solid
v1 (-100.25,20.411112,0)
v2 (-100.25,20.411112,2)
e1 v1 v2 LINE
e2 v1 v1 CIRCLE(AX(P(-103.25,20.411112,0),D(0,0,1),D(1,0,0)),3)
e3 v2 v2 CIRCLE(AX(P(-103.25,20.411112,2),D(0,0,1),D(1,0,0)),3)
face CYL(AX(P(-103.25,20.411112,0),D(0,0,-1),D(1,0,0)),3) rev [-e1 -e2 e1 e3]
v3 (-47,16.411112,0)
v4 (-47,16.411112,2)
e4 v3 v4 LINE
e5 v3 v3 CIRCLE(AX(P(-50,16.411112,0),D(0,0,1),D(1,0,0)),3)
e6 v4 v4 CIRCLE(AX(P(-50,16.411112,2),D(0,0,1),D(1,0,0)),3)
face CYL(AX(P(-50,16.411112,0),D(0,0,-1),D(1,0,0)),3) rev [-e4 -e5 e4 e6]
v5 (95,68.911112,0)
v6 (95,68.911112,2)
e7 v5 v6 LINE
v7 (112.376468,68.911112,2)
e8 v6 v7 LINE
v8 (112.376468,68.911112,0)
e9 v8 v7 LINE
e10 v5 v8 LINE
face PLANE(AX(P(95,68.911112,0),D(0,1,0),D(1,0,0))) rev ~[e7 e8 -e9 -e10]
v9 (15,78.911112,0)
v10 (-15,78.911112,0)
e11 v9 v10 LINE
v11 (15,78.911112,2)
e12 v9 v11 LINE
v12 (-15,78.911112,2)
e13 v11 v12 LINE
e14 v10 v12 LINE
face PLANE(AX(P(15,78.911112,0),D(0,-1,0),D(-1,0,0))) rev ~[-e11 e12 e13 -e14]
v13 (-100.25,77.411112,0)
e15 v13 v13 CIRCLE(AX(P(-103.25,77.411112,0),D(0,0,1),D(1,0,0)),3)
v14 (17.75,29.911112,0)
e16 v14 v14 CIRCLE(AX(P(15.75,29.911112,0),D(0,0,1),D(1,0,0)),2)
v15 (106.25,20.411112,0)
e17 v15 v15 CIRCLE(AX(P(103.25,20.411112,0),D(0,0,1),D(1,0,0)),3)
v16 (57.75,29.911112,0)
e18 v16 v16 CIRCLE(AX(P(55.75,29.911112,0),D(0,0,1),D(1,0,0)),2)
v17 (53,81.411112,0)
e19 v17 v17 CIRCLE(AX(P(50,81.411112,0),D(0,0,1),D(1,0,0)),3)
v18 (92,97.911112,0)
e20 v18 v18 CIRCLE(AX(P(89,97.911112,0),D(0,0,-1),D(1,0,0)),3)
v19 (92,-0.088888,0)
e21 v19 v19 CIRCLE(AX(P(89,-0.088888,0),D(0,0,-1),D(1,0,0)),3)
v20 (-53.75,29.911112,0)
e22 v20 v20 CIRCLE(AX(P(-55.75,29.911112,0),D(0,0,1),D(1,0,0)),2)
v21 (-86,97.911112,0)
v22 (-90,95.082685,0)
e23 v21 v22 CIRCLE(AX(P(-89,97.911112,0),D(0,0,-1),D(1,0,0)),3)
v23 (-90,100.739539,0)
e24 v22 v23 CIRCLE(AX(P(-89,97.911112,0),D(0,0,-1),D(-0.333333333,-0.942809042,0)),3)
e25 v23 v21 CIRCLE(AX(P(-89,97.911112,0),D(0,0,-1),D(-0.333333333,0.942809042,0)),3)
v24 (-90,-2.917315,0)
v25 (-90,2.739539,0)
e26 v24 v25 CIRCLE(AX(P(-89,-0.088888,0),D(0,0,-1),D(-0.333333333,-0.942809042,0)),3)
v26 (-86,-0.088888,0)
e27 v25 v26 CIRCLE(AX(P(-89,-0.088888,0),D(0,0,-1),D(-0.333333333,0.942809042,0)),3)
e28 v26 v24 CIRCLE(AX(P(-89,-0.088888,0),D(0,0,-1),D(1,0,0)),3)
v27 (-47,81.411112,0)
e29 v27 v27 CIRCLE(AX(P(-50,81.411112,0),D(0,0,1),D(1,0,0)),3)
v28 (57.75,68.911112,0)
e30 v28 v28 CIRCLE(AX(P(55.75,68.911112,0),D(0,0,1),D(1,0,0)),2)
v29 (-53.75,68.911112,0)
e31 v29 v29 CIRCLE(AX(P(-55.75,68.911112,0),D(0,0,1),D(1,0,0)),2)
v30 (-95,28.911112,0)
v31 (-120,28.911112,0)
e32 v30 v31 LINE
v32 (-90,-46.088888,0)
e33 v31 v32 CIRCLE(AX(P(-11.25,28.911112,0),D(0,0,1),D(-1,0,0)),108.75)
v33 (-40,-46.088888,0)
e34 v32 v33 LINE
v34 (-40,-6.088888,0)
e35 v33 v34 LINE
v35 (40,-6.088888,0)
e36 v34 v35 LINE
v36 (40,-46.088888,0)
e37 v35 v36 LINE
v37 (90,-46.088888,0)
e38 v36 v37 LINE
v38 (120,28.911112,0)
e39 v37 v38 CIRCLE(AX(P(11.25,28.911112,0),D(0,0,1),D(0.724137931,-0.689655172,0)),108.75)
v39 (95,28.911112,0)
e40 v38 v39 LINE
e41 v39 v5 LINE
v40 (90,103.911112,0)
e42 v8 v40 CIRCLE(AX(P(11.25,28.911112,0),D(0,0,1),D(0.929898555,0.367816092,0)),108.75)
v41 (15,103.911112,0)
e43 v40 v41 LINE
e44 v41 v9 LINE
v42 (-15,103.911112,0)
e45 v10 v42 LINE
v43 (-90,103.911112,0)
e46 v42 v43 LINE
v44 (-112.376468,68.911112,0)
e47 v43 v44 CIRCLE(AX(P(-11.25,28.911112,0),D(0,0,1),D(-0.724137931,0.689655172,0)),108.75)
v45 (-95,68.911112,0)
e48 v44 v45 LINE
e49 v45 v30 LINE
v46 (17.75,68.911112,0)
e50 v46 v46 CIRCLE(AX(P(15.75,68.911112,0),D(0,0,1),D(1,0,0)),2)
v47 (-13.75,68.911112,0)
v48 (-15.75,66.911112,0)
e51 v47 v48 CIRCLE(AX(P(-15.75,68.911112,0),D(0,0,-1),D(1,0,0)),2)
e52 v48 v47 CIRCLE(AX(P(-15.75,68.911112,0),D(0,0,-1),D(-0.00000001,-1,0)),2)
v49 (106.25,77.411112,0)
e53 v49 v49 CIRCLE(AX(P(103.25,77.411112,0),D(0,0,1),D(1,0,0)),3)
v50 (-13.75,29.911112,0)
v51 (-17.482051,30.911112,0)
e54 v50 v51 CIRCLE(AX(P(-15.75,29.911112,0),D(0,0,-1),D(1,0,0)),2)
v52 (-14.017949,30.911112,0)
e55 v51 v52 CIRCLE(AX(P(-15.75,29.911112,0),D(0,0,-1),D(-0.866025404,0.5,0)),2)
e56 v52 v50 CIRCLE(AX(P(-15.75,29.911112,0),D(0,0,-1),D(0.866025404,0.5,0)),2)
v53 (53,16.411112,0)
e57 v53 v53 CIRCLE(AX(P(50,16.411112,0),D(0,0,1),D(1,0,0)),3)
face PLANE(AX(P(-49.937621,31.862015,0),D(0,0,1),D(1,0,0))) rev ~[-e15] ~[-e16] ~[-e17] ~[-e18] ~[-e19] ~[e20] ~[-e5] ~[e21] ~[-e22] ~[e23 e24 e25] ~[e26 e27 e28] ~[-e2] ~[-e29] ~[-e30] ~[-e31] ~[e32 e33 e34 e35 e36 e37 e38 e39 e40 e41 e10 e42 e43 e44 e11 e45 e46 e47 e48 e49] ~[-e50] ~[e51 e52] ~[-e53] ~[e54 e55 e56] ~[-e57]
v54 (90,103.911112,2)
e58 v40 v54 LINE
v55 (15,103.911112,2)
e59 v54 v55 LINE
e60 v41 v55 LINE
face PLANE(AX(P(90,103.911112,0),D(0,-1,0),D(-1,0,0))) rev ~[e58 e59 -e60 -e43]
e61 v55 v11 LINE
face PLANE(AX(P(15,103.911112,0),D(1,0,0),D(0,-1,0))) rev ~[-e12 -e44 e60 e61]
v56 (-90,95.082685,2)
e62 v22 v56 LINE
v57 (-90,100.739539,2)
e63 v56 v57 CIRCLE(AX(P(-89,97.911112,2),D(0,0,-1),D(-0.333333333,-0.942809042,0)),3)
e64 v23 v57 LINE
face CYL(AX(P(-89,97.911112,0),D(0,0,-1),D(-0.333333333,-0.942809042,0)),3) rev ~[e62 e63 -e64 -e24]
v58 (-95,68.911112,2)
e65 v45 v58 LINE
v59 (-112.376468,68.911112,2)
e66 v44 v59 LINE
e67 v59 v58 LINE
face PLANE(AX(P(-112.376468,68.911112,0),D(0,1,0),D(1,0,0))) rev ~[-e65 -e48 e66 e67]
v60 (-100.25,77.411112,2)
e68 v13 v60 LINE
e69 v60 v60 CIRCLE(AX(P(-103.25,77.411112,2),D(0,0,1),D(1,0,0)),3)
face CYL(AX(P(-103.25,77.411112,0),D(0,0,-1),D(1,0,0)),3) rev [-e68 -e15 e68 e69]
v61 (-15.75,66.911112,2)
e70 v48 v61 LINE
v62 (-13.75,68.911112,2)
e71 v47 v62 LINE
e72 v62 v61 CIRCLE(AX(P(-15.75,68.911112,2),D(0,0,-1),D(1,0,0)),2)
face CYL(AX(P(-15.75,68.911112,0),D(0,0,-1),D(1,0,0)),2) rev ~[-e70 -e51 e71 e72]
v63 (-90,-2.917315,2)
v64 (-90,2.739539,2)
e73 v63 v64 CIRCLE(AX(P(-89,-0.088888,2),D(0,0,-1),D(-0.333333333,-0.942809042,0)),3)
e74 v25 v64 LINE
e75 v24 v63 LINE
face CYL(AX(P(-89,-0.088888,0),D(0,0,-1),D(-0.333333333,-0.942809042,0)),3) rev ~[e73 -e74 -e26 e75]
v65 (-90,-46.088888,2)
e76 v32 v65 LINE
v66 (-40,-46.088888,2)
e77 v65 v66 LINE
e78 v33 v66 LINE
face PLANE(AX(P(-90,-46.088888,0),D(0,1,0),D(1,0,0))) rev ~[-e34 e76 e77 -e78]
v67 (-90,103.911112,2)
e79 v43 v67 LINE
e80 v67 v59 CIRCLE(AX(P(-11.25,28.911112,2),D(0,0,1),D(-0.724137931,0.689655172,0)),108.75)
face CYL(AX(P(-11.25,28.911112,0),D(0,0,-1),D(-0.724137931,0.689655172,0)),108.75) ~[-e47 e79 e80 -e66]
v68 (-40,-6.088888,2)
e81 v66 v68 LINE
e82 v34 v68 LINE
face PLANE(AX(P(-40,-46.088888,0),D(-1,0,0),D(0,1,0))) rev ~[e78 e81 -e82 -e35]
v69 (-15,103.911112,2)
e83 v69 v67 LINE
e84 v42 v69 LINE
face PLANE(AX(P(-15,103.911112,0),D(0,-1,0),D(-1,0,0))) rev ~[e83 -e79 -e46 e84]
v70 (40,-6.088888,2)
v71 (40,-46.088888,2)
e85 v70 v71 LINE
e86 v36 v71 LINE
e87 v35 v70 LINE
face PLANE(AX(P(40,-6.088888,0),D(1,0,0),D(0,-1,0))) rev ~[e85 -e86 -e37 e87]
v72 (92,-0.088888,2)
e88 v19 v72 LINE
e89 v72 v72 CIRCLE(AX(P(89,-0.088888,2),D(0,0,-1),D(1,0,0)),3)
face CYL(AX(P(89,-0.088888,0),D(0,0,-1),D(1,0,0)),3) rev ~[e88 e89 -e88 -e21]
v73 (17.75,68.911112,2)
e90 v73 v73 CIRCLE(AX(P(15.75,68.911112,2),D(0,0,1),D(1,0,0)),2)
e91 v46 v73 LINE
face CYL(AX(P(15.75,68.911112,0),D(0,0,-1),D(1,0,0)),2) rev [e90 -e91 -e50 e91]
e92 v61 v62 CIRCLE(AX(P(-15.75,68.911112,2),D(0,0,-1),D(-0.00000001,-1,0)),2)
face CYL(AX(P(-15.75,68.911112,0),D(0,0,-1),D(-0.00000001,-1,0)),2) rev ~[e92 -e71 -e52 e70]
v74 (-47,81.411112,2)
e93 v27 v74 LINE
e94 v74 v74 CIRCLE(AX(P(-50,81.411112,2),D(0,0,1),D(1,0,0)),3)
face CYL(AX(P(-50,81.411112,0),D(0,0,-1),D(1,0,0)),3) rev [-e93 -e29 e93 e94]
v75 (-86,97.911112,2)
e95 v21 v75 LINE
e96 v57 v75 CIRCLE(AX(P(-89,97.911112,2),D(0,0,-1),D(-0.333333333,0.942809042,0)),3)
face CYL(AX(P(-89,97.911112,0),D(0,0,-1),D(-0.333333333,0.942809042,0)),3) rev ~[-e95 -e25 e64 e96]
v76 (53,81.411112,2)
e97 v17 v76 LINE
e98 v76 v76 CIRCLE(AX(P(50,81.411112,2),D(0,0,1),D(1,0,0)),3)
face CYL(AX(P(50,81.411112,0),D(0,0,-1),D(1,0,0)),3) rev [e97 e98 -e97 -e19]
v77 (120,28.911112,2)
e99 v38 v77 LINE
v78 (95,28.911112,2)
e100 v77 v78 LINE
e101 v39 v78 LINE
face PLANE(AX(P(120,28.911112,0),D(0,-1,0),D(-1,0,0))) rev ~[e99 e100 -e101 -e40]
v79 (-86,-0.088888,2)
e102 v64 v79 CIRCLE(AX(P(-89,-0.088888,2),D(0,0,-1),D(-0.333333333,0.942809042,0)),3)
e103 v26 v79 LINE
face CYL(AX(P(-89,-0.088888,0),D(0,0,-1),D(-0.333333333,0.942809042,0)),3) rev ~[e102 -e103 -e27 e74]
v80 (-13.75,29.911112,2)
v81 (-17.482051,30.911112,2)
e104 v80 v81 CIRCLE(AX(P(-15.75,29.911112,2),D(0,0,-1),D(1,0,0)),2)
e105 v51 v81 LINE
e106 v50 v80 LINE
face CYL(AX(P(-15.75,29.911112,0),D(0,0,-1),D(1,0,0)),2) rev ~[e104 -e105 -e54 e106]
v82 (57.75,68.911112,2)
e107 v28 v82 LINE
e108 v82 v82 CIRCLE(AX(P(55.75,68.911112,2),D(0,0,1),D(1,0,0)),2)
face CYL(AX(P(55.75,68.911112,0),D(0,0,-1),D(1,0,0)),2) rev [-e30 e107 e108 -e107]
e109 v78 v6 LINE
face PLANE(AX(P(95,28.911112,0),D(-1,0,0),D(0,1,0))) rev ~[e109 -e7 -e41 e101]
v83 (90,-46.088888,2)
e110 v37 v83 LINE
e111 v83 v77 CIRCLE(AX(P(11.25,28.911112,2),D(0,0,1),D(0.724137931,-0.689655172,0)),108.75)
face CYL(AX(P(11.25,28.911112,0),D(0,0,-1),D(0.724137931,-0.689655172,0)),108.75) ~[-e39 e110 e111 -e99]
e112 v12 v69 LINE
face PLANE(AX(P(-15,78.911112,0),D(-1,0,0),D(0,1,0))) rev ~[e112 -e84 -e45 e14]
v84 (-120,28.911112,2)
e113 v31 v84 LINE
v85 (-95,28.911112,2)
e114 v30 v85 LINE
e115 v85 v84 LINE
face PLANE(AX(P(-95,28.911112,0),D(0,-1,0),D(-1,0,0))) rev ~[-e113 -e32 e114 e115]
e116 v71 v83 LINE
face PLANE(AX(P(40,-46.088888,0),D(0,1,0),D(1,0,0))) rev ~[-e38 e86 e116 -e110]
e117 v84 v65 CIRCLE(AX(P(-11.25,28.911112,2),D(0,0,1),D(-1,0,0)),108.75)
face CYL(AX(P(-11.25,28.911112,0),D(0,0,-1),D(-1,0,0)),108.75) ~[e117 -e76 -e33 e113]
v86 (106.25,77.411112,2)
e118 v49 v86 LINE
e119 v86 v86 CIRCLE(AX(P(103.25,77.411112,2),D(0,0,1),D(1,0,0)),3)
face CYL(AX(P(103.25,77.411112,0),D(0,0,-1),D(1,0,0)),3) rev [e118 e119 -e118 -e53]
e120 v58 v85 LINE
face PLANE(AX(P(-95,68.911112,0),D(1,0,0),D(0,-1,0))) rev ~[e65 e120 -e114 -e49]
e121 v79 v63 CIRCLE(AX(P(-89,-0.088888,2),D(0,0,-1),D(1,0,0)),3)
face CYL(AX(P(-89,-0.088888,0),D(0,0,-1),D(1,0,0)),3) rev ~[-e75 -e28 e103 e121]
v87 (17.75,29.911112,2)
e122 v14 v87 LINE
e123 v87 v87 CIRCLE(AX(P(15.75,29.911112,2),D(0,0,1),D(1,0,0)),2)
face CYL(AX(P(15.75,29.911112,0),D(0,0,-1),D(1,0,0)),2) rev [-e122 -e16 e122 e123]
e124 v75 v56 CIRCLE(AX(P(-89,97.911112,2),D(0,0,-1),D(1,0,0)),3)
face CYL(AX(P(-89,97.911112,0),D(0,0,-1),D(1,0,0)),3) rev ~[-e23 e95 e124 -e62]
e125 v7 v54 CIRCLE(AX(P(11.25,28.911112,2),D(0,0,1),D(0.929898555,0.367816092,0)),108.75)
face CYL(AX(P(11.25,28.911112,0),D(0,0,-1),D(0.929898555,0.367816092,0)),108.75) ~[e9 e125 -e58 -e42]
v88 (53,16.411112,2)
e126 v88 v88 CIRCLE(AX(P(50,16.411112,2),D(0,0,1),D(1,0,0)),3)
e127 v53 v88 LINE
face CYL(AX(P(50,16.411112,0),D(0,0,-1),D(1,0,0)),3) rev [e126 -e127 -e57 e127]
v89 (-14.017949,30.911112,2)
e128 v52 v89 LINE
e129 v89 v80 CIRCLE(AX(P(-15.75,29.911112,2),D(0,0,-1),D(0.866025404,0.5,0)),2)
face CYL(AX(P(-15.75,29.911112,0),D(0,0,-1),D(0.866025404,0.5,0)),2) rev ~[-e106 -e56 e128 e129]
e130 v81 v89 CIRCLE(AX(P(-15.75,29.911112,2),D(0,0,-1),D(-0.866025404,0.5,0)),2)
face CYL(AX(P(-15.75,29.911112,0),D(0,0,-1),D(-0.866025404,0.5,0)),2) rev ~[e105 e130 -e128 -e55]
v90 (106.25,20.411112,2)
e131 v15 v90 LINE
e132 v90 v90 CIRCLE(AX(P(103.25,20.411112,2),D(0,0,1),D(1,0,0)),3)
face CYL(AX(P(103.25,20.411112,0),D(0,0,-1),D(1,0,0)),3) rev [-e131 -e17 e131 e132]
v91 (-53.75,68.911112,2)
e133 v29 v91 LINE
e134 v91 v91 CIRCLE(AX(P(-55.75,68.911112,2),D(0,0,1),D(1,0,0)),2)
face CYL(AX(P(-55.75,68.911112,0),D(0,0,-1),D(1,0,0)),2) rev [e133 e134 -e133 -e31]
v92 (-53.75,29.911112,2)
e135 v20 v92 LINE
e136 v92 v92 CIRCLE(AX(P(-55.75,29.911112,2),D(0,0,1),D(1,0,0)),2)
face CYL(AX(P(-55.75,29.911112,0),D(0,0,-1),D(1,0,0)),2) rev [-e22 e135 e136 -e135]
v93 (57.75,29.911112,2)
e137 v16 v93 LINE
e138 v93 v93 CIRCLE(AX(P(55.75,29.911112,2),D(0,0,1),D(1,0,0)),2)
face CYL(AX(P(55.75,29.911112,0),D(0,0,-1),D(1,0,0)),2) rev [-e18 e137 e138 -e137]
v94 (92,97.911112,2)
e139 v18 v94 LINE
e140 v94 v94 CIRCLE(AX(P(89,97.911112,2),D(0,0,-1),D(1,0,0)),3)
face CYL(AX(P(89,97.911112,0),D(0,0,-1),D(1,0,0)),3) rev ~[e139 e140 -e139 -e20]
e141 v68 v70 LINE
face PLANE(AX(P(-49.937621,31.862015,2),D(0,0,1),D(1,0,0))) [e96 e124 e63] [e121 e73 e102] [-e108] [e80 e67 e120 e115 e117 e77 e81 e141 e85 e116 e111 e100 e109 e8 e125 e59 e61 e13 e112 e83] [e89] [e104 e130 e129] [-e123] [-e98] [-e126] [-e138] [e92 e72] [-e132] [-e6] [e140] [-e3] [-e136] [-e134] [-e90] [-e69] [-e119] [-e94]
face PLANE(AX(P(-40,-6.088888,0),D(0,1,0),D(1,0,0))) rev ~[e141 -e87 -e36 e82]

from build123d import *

# Parameters (mm, degrees)
F0_R     = 3
F0_R_2   = 2
F1_DEPTH = 2


with BuildPart() as f1:
    # F0 (on Top) → F1 (new body)
    with BuildSketch(Plane.XY):
        with BuildLine():
            Line((-15, 78.9111120323), (-15, 103.9111120323))
            Line((-15, 103.9111120323), (-90, 103.9111120323))
            Line((-90, 103.9111120323), (-90, 100.739539157))
            ThreePointArc((-90, 100.739539157), (-87.2679491924, 100.3606017751), (-86, 97.9111120323))
            ThreePointArc((-86, 97.9111120323), (-87.2679491924, 95.4616222895), (-90, 95.0826849075))
            Line((-90, 95.0826849075), (-90, 2.739539157))
            ThreePointArc((-90, 2.739539157), (-87.2679491924, 2.3606017751), (-86, -0.0888879677))
            ThreePointArc((-86, -0.0888879677), (-87.2679491924, -2.5383777105), (-90, -2.9173150925))
            Line((-90, -2.9173150925), (-90, -46.0888879677))
            Line((-90, -46.0888879677), (-40, -46.0888879677))
            Line((-40, -46.0888879677), (-40, -6.0888879677))
            Line((-40, -6.0888879677), (0, -6.0888879677))
            Line((0, -6.0888879677), (0, 78.9111120323))
            Line((0, 78.9111120323), (-15, 78.9111120323))
        make_face()
        with Locations((-50, 16.4111120323)):
            Circle(F0_R, mode=Mode.SUBTRACT)
        with Locations((-55.75, 29.9111120323)):
            Circle(F0_R_2, mode=Mode.SUBTRACT)
        with BuildLine():
            Line((-50.5, 66.9111120323), (-15.7500000193, 66.9111120323))
            Line((-15.7500000193, 66.9111120323), (-4.7, 66.9111120323))
            Line((-4.7, 66.9111120323), (-4.7, 30.9111120323))
            Line((-4.7, 30.9111120323), (-14.0179491924, 30.9111120323))
            ThreePointArc((-14.0179491924, 30.9111120323), (-13.8181483474, 30.4287501225), (-13.75, 29.9111120323))
            ThreePointArc((-13.75, 29.9111120323), (-16.2676380902, 27.9792603797), (-17.4820508076, 30.9111120323))
            Line((-17.4820508076, 30.9111120323), (-50.5, 30.9111120323))
            Line((-50.5, 30.9111120323), (-50.5, 66.9111120323))
        make_face(mode=Mode.SUBTRACT)
        with Locations((-55.75, 68.9111120323)):
            Circle(F0_R_2, mode=Mode.SUBTRACT)
        with Locations((-50, 81.4111120323)):
            Circle(F0_R, mode=Mode.SUBTRACT)
        with BuildLine():
            ThreePointArc((-15.7500000193, 66.9111120323), (-17.1642135555, 70.3253256015), (-13.75, 68.9111120323))
            ThreePointArc((-13.75, 68.9111120323), (-14.3357864445, 67.4968984631), (-15.7500000193, 66.9111120323))
        make_face(mode=Mode.SUBTRACT)
        with BuildLine():
            Line((15, 78.9111120323), (0, 78.9111120323))
            Line((0, 78.9111120323), (0, -6.0888879677))
            Line((0, -6.0888879677), (40, -6.0888879677))
            Line((40, -6.0888879677), (40, -46.0888879677))
            Line((40, -46.0888879677), (90, -46.0888879677))
            Line((90, -46.0888879677), (90, -2.9173150925))
            ThreePointArc((90, -2.9173150925), (86, -0.0888879677), (90, 2.739539157))
            Line((90, 2.739539157), (90, 95.0826849075))
            ThreePointArc((90, 95.0826849075), (86, 97.9111120323), (90, 100.739539157))
            Line((90, 100.739539157), (90, 103.9111120323))
            Line((90, 103.9111120323), (15, 103.9111120323))
            Line((15, 103.9111120323), (15, 78.9111120323))
        make_face()
        with Locations((50, 16.4111120323)):
            Circle(F0_R, mode=Mode.SUBTRACT)
        with Locations((15.75, 29.9111120323)):
            Circle(F0_R_2, mode=Mode.SUBTRACT)
        with Locations((55.75, 29.9111120323)):
            Circle(F0_R_2, mode=Mode.SUBTRACT)
        with Locations((15.75, 68.9111120323)):
            Circle(F0_R_2, mode=Mode.SUBTRACT)
        with Locations((55.75, 68.9111120323)):
            Circle(F0_R_2, mode=Mode.SUBTRACT)
        with Locations((50, 81.4111120323)):
            Circle(F0_R, mode=Mode.SUBTRACT)
        with BuildLine():
            ThreePointArc((112.3764678509, 68.9111120323), (102.8749743336, 87.4894918184), (90, 103.9111120323))
            Line((90, 103.9111120323), (90, 100.739539157))
            ThreePointArc((90, 100.739539157), (91.4494897428, 99.6431628398), (92, 97.9111120323))
            ThreePointArc((92, 97.9111120323), (91.4494897428, 96.1790612247), (90, 95.0826849075))
            Line((90, 95.0826849075), (90, 2.739539157))
            ThreePointArc((90, 2.739539157), (91.4494897428, 1.6431628398), (92, -0.0888879677))
            ThreePointArc((92, -0.0888879677), (91.4494897428, -1.8209387753), (90, -2.9173150925))
            Line((90, -2.9173150925), (90, -46.0888879677))
            ThreePointArc((90, -46.0888879677), (112.2218401338, -11.4776240212), (120, 28.9111120323))
            Line((120, 28.9111120323), (95, 28.9111120323))
            Line((95, 28.9111120323), (95, 68.9111120323))
            Line((95, 68.9111120323), (112.3764678509, 68.9111120323))
        make_face()
        with Locations((103.25, 20.4111120323)):
            Circle(F0_R, mode=Mode.SUBTRACT)
        with Locations((103.25, 77.4111120323)):
            Circle(F0_R, mode=Mode.SUBTRACT)
        with BuildLine():
            Line((-90, 100.739539157), (-90, 103.9111120323))
            ThreePointArc((-90, 103.9111120323), (-102.8749743336, 87.4894918184), (-112.3764678509, 68.9111120323))
            Line((-112.3764678509, 68.9111120323), (-95, 68.9111120323))
            Line((-95, 68.9111120323), (-95, 28.9111120323))
            Line((-95, 28.9111120323), (-120, 28.9111120323))
            ThreePointArc((-120, 28.9111120323), (-112.2218401338, -11.4776240212), (-90, -46.0888879677))
            Line((-90, -46.0888879677), (-90, -2.9173150925))
            ThreePointArc((-90, -2.9173150925), (-92, -0.0888879677), (-90, 2.739539157))
            Line((-90, 2.739539157), (-90, 95.0826849075))
            ThreePointArc((-90, 95.0826849075), (-92, 97.9111120323), (-90, 100.739539157))
        make_face()
        with Locations((-103.25, 20.4111120323)):
            Circle(F0_R, mode=Mode.SUBTRACT)
        with Locations((-103.25, 77.4111120323)):
            Circle(F0_R, mode=Mode.SUBTRACT)
        with BuildLine():
            Line((-4.7, 66.9111120323), (-15.7500000193, 66.9111120323))
            Line((-15.7500000193, 66.9111120323), (-50.5, 66.9111120323))
            Line((-50.5, 66.9111120323), (-50.5, 30.9111120323))
            Line((-50.5, 30.9111120323), (-17.4820508076, 30.9111120323))
            ThreePointArc((-17.4820508076, 30.9111120323), (-15.75, 31.9111120323), (-14.0179491924, 30.9111120323))
            Line((-14.0179491924, 30.9111120323), (-4.7, 30.9111120323))
            Line((-4.7, 30.9111120323), (-4.7, 66.9111120323))
        make_face()
    extrude(amount=F1_DEPTH)


solid = f1.part
